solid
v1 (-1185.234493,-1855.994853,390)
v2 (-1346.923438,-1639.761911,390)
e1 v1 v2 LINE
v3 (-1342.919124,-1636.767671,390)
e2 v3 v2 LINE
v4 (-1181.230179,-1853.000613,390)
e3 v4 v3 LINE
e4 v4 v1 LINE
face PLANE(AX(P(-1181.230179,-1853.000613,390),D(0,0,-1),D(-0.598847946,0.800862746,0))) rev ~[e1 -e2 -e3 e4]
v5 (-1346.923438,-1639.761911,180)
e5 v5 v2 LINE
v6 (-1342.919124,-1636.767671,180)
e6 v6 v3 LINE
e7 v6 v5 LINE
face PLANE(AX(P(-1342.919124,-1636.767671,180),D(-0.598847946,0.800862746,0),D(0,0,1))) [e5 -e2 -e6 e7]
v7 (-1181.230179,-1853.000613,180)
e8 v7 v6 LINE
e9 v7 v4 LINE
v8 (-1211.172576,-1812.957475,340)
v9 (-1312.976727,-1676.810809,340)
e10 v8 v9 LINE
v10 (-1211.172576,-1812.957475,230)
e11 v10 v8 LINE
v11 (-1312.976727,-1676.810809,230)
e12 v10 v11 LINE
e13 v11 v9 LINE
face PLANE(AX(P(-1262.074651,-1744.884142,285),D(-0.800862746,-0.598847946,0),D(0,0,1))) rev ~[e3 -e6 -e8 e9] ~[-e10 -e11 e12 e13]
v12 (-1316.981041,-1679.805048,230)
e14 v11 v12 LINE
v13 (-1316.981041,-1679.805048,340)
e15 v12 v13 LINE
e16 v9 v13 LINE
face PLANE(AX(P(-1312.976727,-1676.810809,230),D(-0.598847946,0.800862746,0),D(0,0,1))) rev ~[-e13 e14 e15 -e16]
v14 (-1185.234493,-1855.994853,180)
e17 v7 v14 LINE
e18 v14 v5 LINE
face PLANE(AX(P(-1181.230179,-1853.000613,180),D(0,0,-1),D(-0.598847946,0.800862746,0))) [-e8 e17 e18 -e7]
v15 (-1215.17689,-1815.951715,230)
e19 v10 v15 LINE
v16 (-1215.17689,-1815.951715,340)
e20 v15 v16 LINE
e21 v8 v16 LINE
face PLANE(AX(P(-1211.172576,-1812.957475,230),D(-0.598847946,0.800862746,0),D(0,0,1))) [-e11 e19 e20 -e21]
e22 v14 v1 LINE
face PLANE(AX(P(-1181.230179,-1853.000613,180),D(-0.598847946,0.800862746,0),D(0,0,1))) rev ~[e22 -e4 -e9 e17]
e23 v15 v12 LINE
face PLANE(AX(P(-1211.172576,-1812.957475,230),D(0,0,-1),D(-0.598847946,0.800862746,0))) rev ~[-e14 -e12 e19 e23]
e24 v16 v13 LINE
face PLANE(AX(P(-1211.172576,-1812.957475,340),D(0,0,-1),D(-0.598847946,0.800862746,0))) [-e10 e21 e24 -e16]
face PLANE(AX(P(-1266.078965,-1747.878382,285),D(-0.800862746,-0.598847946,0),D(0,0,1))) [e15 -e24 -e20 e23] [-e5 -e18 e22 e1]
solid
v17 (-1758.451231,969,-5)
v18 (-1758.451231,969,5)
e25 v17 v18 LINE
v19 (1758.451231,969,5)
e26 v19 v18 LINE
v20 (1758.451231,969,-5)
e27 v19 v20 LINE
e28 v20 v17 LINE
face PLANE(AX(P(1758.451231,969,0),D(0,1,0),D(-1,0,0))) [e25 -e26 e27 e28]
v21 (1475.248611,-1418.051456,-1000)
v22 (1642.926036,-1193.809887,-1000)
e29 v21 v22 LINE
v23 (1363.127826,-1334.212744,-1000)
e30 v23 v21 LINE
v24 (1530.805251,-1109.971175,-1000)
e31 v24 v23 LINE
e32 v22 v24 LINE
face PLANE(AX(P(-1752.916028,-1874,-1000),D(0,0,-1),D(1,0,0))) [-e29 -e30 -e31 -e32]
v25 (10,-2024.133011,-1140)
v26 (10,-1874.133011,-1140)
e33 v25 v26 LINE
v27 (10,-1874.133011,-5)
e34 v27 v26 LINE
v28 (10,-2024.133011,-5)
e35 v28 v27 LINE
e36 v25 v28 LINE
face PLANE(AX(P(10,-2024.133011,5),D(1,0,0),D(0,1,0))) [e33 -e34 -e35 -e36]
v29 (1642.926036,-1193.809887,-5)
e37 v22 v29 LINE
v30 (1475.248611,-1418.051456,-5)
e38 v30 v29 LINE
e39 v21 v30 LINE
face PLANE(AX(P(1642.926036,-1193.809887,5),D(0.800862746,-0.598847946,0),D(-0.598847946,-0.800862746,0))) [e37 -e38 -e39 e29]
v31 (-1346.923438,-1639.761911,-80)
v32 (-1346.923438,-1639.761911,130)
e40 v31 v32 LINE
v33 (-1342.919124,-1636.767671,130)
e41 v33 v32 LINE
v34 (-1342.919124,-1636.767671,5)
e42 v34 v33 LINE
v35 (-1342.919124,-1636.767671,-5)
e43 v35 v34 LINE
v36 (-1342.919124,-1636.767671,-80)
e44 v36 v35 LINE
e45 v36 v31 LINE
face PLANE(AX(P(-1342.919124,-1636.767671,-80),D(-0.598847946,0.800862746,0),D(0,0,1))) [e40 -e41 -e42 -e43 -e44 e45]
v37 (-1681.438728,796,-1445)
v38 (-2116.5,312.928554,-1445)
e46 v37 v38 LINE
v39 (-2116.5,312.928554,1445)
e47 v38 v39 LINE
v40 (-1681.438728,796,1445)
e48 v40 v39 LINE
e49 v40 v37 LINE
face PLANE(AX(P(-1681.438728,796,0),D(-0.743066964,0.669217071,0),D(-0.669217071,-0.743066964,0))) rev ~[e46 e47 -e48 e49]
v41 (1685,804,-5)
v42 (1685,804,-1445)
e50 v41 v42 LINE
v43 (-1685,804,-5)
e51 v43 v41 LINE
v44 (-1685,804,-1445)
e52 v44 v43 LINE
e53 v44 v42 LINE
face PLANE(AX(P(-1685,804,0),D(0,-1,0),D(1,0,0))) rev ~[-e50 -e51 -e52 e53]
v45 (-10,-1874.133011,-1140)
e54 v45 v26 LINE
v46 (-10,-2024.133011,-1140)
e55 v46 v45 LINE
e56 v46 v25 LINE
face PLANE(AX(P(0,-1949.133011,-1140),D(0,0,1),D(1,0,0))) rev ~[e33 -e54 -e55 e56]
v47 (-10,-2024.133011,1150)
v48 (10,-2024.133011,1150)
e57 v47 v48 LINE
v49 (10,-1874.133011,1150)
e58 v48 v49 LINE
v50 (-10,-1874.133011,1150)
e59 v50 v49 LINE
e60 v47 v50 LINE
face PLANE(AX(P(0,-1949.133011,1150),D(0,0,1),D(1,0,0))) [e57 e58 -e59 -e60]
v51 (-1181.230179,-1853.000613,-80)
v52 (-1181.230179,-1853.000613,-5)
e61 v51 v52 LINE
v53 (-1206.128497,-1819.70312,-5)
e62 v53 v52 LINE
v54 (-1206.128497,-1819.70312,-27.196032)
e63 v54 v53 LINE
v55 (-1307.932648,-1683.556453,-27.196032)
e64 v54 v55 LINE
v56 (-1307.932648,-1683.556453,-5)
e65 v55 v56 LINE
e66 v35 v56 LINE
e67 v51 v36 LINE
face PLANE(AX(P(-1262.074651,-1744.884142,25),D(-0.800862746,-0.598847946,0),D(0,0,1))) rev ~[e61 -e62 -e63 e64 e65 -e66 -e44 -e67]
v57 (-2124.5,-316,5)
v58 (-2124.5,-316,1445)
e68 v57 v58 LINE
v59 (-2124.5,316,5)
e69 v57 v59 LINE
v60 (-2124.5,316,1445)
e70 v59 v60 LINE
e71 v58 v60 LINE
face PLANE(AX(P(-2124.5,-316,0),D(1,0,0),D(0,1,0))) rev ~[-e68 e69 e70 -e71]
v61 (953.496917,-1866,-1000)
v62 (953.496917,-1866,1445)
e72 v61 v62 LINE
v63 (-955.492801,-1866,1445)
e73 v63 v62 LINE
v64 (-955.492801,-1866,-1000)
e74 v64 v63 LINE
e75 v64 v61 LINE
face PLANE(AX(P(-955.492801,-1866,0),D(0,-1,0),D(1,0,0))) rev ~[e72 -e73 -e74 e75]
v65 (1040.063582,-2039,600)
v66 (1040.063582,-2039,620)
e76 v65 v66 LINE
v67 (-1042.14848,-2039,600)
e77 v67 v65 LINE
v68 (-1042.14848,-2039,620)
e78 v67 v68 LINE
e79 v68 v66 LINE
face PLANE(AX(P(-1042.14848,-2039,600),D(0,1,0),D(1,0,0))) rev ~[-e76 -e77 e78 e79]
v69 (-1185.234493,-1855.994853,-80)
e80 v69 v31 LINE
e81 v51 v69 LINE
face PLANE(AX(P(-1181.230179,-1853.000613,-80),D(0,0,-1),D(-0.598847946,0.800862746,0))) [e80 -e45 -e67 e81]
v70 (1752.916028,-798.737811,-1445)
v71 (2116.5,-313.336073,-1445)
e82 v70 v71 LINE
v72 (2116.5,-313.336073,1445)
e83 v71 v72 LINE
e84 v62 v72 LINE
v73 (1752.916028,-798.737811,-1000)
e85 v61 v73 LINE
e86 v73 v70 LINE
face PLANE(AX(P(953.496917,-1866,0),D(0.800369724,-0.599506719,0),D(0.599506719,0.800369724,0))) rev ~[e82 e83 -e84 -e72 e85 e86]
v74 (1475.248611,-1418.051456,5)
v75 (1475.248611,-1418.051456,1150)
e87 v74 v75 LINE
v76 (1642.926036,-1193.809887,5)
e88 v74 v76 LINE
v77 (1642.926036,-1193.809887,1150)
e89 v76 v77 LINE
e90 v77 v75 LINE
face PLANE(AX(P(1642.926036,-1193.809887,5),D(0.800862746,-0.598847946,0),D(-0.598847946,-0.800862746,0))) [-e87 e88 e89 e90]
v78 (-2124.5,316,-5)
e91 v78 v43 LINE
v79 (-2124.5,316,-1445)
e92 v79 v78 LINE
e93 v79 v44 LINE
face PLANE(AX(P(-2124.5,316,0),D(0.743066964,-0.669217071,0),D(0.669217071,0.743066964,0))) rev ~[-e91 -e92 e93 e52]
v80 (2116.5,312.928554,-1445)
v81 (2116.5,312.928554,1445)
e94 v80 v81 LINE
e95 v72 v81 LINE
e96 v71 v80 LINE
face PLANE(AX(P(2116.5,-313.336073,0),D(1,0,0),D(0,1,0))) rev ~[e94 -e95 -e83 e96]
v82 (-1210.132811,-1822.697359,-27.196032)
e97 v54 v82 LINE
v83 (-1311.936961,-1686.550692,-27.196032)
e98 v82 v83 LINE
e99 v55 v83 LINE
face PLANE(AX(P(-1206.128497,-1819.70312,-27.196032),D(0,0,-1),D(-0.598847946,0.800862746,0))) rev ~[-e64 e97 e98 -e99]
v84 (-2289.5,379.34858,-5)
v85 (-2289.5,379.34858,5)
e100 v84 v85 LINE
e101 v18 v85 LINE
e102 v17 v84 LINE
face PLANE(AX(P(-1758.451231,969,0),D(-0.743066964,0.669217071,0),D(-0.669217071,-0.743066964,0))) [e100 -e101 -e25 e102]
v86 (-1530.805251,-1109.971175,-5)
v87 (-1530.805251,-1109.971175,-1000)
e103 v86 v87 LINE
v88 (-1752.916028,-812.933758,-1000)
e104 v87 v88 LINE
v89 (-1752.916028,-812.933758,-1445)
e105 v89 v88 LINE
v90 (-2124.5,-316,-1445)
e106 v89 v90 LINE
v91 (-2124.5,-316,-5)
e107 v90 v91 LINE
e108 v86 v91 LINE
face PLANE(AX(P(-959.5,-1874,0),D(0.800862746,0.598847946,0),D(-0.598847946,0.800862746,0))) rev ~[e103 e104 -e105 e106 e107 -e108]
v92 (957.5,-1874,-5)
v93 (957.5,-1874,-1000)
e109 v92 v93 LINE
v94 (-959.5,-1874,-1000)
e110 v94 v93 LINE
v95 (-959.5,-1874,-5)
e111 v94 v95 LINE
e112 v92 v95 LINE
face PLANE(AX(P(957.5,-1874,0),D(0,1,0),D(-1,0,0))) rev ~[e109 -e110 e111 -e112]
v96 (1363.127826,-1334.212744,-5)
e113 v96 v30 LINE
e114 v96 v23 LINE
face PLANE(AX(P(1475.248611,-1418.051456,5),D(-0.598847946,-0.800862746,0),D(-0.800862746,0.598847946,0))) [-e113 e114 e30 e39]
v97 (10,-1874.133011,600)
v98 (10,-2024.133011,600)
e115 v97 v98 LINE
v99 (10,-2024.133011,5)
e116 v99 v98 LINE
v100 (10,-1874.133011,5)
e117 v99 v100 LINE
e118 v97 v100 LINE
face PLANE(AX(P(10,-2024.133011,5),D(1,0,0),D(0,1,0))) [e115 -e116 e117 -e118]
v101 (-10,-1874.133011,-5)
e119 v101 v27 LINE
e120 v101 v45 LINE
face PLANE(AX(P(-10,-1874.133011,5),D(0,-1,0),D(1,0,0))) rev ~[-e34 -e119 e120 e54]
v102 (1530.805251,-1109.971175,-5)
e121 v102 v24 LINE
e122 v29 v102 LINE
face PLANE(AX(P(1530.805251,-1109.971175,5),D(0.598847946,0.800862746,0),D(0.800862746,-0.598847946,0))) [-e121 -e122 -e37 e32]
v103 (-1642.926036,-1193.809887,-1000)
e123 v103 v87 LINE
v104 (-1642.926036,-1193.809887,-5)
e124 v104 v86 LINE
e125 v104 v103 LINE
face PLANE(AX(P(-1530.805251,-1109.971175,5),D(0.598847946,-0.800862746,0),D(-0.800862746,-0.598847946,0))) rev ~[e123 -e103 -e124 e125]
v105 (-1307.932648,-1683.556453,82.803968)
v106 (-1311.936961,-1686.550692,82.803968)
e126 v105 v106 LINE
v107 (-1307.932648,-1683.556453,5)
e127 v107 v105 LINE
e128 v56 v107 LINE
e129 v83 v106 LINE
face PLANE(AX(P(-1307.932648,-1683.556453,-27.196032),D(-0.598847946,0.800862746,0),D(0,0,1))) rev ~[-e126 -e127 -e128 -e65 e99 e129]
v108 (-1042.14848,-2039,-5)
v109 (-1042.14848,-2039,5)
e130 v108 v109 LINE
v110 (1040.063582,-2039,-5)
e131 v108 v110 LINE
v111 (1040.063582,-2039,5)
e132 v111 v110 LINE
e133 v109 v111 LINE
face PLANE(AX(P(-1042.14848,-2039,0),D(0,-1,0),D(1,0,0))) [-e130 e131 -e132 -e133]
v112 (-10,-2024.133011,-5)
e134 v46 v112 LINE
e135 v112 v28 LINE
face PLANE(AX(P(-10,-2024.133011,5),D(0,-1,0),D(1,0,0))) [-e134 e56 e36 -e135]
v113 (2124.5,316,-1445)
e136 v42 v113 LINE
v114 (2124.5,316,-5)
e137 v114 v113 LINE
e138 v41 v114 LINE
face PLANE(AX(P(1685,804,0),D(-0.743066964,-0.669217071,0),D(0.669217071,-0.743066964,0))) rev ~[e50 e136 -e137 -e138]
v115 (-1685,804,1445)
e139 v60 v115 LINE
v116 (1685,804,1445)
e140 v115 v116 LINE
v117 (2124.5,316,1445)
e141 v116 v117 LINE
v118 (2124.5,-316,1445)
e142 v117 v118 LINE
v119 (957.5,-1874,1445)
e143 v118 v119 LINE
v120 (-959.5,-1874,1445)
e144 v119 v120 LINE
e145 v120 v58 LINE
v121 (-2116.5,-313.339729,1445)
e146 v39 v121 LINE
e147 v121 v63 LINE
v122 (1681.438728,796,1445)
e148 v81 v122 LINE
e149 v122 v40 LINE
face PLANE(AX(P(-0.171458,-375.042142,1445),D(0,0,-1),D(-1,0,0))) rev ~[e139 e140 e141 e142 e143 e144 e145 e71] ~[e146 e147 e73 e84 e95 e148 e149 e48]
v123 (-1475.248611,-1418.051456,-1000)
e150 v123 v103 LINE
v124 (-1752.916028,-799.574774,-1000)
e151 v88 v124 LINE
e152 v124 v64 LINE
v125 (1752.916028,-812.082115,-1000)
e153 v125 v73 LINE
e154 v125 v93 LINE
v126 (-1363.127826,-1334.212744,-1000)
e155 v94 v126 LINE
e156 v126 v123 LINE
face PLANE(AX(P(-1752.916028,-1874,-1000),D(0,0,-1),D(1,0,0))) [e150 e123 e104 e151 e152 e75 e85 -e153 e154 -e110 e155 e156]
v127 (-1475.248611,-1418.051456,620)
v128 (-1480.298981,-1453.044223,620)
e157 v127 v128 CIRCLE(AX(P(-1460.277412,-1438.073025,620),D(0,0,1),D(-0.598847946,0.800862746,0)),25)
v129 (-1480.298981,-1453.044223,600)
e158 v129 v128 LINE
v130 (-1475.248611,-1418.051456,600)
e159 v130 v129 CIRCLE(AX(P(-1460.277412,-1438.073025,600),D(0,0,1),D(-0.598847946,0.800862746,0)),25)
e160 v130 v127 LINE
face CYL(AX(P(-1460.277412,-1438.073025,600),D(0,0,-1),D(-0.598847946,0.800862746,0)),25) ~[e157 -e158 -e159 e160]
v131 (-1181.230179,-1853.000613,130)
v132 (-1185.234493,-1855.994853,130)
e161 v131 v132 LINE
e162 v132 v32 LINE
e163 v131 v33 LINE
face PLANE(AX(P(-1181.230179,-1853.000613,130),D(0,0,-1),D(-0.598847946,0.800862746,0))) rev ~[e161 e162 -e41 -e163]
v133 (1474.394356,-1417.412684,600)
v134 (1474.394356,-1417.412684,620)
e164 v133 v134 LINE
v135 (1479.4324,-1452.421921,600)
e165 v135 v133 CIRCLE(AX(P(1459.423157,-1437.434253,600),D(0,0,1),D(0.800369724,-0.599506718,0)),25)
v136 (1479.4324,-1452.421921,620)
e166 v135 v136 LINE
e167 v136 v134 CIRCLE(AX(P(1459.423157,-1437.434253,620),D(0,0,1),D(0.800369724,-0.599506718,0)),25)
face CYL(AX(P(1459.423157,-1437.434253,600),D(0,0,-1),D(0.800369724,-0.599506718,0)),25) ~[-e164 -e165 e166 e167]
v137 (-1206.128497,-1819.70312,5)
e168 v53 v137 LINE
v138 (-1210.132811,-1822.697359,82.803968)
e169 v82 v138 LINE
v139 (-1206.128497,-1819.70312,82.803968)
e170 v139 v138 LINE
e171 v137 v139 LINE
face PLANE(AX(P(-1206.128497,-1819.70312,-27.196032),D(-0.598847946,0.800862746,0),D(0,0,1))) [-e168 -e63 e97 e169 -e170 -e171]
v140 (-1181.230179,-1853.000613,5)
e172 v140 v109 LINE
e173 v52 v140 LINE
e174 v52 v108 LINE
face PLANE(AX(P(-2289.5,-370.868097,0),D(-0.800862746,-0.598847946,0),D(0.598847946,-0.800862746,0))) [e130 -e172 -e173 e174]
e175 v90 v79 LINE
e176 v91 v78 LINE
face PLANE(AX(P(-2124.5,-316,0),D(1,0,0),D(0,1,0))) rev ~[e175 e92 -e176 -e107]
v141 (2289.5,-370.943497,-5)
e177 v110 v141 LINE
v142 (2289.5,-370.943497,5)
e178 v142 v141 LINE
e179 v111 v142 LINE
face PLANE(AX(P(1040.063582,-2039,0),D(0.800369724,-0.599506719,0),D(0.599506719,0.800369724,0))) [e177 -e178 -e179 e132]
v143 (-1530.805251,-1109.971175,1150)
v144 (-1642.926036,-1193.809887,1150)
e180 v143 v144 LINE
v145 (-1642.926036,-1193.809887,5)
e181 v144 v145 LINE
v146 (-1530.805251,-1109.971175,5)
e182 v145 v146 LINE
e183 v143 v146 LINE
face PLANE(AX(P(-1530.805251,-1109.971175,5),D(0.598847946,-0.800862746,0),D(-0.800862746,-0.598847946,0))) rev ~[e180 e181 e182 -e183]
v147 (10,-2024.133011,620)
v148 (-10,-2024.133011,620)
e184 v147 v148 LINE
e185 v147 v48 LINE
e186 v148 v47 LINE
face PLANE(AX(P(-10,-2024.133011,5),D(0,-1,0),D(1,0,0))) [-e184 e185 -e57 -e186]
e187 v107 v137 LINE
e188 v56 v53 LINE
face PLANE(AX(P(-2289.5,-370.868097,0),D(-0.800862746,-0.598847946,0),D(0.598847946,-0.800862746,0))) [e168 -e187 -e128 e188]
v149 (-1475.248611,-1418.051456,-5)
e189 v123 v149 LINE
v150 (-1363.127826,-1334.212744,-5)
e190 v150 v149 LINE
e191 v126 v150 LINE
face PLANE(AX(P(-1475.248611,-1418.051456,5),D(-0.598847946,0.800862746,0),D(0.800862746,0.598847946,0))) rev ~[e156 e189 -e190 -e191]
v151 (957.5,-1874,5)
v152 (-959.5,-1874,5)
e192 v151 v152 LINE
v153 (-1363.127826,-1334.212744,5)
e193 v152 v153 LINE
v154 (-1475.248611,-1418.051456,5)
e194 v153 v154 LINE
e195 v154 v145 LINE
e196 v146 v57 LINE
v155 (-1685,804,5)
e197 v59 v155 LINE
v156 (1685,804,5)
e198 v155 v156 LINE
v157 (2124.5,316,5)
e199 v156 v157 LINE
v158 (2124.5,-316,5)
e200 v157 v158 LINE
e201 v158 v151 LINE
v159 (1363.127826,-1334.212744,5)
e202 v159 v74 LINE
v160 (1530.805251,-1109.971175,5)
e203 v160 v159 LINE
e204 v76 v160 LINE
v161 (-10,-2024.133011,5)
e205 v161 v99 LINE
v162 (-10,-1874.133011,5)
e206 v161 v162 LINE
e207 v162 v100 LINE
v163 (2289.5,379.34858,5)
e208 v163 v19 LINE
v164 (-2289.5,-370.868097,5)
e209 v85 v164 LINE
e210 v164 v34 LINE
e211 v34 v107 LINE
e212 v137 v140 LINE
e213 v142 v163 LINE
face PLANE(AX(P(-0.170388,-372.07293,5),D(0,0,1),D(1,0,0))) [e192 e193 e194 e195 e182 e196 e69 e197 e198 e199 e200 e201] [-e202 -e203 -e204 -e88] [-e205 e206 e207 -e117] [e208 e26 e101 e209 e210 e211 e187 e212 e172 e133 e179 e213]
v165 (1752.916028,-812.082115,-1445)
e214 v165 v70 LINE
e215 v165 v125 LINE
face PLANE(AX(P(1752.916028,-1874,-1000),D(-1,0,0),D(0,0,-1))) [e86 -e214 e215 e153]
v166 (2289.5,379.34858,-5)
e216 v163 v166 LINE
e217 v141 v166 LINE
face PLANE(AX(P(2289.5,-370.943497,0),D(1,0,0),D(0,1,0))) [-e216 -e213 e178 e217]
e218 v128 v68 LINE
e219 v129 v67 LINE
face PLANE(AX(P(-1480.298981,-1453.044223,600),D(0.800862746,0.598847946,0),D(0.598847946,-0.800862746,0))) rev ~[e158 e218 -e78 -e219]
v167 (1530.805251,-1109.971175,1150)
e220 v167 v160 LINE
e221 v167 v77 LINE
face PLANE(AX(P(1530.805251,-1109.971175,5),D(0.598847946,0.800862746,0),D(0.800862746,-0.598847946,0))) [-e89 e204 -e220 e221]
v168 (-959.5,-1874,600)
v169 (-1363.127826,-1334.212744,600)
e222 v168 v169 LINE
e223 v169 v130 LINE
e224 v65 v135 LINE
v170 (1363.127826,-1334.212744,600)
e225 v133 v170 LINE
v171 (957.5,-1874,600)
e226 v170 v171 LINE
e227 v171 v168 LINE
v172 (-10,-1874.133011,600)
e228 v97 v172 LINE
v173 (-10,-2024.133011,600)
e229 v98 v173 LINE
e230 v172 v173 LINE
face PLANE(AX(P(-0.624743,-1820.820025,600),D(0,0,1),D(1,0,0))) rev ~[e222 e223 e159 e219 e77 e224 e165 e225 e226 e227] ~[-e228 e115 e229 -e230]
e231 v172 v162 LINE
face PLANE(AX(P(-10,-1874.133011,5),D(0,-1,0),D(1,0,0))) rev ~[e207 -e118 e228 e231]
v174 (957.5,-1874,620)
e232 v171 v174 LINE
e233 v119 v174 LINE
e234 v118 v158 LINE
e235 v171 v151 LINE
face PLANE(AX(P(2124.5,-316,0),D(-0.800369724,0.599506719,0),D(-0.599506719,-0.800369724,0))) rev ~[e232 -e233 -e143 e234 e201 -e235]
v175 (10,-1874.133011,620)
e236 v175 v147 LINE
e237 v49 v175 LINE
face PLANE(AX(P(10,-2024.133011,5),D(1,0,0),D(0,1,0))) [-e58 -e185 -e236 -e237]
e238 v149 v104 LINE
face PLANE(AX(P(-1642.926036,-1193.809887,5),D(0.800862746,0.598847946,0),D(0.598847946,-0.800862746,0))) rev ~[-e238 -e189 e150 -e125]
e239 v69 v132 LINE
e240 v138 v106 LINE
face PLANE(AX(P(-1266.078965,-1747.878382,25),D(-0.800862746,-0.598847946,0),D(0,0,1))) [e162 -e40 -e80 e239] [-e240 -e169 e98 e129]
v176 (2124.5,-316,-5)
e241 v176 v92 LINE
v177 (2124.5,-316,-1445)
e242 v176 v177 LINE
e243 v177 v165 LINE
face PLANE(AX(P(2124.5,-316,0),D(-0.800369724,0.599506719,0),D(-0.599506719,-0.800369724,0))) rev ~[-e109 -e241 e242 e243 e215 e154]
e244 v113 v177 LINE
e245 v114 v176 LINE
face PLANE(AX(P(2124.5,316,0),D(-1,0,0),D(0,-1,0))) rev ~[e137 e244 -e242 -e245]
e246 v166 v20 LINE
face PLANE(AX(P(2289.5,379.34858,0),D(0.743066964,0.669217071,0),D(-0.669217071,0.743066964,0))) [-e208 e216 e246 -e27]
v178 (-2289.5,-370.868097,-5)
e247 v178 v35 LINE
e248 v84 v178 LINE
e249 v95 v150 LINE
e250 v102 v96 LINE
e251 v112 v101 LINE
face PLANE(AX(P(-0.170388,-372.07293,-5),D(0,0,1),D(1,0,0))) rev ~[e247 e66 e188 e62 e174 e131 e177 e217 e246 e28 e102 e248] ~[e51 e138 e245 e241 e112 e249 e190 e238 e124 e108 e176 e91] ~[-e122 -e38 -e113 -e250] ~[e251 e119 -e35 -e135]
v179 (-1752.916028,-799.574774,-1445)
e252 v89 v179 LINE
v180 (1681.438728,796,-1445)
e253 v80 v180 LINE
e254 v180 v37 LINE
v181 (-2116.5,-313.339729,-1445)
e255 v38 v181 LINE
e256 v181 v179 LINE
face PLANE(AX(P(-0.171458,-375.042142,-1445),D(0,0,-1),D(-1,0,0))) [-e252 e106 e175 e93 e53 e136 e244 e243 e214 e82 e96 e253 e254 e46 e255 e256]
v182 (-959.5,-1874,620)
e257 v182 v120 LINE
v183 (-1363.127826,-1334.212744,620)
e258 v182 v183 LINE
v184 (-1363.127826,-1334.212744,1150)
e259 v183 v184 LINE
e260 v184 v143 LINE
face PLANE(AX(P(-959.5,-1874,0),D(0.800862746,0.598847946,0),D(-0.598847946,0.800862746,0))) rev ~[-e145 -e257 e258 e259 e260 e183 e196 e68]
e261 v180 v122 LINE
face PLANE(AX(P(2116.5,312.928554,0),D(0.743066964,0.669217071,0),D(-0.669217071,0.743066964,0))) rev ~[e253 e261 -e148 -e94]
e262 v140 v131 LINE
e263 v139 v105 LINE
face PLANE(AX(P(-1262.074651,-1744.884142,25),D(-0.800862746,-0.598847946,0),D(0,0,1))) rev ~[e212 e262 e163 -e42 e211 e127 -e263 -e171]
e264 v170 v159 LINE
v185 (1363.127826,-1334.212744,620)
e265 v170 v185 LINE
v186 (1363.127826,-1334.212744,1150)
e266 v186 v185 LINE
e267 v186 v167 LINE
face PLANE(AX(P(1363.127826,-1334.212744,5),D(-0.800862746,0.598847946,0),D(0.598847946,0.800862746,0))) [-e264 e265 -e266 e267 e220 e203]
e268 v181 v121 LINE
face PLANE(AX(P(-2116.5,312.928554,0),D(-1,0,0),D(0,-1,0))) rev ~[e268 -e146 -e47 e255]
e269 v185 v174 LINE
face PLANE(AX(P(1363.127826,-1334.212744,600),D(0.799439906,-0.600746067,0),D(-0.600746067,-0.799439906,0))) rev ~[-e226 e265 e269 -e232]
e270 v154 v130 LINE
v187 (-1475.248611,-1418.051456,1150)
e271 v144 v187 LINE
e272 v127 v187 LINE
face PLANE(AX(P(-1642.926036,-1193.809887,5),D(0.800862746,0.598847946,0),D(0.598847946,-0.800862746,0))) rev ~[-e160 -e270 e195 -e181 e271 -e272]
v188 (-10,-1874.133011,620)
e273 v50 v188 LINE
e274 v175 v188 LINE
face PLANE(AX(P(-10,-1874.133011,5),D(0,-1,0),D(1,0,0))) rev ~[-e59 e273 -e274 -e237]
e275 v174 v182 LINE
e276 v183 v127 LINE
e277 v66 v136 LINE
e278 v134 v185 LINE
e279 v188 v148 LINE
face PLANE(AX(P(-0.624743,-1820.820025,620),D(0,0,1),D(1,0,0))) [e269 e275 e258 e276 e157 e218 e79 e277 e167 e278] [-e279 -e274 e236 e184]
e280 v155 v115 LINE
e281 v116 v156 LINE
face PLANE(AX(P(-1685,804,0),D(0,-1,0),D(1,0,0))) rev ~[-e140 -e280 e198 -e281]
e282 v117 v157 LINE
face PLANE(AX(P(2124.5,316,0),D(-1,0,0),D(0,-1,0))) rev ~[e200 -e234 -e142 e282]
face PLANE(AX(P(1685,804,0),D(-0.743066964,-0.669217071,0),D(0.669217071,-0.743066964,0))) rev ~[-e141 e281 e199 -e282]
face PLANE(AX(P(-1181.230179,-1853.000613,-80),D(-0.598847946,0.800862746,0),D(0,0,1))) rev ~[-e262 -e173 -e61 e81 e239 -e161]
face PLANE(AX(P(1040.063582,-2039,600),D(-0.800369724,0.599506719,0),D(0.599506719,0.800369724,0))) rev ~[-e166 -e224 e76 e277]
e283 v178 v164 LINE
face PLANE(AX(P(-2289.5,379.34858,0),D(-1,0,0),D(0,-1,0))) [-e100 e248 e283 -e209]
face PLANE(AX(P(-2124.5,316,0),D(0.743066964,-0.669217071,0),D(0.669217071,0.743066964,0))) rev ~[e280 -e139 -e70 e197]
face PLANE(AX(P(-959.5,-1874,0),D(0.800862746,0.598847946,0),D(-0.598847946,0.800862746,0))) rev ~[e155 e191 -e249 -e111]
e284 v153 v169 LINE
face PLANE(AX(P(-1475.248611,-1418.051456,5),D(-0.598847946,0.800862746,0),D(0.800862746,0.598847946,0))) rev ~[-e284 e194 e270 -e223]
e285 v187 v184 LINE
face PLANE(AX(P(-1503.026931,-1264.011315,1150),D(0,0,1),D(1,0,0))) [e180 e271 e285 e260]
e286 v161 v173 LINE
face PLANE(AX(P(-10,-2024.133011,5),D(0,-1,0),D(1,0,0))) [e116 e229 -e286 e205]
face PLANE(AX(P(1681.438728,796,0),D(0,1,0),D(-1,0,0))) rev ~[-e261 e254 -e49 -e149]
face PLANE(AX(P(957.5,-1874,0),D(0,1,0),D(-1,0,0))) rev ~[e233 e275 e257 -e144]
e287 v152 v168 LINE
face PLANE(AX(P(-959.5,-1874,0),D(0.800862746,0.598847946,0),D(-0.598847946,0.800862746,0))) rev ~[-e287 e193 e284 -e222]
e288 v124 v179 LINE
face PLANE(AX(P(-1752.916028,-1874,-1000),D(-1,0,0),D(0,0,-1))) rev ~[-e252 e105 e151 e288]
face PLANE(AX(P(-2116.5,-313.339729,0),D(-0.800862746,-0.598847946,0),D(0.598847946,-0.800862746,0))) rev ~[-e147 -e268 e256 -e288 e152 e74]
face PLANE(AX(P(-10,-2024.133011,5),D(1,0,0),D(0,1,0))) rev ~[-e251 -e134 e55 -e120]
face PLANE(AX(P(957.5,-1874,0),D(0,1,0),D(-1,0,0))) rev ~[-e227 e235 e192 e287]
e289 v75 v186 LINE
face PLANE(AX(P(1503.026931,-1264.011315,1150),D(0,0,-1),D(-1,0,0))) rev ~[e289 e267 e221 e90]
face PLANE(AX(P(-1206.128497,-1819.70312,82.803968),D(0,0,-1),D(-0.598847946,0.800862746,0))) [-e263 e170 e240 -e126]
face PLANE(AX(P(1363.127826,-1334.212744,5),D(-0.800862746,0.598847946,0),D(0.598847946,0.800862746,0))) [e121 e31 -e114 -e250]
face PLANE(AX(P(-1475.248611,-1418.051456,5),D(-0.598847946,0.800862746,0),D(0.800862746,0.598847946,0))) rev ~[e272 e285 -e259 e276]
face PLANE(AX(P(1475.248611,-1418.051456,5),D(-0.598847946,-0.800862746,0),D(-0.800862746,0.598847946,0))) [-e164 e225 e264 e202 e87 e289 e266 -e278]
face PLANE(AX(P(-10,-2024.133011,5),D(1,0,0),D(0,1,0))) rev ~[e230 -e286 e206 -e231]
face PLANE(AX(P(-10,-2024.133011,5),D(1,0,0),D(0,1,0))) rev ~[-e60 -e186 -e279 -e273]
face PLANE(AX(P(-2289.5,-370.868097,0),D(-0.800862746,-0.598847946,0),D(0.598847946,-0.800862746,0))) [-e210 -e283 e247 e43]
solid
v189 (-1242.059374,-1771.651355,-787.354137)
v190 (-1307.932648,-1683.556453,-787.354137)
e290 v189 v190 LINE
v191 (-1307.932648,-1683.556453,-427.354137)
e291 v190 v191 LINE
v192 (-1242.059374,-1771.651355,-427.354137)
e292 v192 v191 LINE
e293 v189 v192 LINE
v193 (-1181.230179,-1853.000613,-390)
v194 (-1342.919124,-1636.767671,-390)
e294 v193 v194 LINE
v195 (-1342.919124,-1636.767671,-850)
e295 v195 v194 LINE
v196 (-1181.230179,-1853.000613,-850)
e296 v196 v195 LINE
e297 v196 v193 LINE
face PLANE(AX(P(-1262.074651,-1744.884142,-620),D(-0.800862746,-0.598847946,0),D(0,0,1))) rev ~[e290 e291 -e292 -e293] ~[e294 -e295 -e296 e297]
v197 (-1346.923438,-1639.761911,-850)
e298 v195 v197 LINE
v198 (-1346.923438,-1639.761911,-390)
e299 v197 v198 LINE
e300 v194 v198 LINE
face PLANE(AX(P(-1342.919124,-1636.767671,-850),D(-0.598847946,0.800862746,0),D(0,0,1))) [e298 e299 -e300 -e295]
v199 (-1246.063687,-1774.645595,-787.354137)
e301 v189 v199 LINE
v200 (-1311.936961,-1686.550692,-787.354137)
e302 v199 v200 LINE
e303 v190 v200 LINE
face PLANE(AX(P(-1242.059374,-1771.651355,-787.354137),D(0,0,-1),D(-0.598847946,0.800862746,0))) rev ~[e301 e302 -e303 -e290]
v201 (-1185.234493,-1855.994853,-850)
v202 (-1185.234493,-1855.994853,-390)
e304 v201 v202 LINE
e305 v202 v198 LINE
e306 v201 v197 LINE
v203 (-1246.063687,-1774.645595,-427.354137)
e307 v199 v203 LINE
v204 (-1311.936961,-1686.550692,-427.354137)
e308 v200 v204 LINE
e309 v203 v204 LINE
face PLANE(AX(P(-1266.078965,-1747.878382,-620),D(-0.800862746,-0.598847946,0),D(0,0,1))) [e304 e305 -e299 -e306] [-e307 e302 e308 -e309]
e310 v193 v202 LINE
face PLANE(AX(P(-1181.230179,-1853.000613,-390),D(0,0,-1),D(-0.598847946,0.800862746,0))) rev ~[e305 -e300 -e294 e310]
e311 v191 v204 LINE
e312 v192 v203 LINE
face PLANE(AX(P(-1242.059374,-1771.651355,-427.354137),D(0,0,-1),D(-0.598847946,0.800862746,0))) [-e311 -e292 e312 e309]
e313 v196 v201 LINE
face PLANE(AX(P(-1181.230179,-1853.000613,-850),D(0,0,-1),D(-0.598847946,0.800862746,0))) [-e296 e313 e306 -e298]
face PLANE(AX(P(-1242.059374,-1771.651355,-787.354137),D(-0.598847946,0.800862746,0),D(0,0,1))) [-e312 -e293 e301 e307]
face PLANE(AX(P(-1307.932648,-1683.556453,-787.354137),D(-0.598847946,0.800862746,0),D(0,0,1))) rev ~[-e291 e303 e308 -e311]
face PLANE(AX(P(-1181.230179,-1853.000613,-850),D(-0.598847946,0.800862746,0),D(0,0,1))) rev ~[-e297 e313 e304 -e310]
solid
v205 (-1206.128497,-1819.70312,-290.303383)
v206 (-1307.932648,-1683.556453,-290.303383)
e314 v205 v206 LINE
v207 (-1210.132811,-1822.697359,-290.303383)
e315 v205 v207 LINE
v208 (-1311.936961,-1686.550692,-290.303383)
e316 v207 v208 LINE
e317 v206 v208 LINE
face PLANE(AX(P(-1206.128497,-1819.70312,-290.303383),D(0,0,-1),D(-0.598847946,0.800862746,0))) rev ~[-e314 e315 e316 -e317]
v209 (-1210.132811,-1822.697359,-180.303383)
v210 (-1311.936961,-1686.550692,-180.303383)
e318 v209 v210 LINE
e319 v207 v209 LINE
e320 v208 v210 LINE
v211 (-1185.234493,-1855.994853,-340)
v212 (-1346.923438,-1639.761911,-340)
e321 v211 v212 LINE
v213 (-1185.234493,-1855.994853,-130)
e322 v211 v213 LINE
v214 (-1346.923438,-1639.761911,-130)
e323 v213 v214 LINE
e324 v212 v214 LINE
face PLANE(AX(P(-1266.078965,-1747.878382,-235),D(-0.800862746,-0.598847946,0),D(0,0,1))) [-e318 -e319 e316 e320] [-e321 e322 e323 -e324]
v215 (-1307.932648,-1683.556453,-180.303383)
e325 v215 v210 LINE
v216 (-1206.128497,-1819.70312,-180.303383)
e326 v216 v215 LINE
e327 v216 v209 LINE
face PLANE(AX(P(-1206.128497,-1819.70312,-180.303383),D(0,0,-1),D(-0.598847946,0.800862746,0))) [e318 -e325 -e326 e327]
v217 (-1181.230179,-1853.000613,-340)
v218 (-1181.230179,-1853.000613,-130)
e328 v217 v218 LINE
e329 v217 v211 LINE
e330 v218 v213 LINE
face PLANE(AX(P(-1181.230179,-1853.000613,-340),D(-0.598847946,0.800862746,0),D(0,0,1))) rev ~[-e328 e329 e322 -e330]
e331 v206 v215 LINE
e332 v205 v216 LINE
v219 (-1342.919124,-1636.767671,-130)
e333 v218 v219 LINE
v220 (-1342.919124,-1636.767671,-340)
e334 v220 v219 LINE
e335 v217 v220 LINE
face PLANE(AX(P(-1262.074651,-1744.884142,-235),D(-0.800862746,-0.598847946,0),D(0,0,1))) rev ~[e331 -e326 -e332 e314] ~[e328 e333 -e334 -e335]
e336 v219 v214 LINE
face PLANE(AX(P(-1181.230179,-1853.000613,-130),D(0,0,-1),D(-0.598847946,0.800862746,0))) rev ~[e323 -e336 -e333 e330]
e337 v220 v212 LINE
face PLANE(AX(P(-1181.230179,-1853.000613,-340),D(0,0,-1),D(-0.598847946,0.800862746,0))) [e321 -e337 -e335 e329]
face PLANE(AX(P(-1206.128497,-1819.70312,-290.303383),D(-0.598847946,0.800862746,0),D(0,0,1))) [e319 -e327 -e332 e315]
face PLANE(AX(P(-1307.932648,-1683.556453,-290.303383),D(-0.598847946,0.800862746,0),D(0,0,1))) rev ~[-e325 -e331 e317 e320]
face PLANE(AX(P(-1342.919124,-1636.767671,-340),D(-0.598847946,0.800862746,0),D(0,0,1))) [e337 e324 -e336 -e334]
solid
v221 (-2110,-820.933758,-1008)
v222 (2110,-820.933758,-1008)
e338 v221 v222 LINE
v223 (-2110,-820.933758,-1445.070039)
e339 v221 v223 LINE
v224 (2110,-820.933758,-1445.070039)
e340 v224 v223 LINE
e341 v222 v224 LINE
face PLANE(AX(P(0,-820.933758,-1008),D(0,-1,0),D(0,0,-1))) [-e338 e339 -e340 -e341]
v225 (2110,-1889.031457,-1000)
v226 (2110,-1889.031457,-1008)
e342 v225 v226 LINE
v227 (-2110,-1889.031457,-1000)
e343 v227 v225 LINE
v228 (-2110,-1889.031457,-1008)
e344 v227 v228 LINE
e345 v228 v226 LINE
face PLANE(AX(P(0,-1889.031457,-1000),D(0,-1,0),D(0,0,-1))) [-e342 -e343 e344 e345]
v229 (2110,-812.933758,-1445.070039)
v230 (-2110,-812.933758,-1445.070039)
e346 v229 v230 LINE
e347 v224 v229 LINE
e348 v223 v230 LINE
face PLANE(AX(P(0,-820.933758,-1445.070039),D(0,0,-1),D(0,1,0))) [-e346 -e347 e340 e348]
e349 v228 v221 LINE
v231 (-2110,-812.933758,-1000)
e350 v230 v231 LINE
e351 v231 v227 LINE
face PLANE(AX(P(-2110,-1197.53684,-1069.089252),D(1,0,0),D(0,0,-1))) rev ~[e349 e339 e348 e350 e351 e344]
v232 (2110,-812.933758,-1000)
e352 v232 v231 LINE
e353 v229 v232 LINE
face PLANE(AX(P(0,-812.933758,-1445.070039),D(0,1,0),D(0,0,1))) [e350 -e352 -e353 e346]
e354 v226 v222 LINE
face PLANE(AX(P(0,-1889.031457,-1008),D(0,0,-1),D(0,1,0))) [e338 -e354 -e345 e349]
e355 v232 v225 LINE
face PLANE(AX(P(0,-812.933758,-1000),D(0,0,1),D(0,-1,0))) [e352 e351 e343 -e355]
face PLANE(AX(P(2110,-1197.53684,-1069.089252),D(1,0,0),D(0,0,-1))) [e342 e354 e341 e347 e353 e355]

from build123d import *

# Parameters (mm, degrees)
BOSS_EXTRUDE1_DEPTH  = 1445
BOSS_EXTRUDE2_DEPTH  = 5
SKETCH4_W            = 20
SKETCH4_H            = 150
BOSS_EXTRUDE4_DEPTH  = 1145
BOSS_EXTRUDE9_START  = 600
BOSS_EXTRUDE9_DEPTH  = 20
CUT_EXTRUDE1_START   = -1874
SKETCH6_W            = 3505.832056238
SKETCH6_H            = 1215.707549371
CUT_EXTRUDE1_DEPTH   = 1075.262189
BOSS_EXTRUDE11_DEPTH = 2110
SKETCH8_W            = 210
SKETCH8_H            = 270
SKETCH8_W_2          = 110
SKETCH8_H_2          = 170
SKETCH8_W_3          = 460
SKETCH8_W_4          = 360
SKETCH8_H_3          = 110
BOSS_EXTRUDE12_DEPTH = 5


with BuildPart() as part:
    # Sketch1 → Boss-Extrude1 (new, symmetric)
    with BuildSketch(Plane.XY):
        Polygon((-1685, 804), (1685, 804), (2124.5, 316), (2124.5, -316), (957.5, -1874), (-959.5, -1874), (-2124.5, -316), (-2124.5, 316), align=None)
        Polygon((-1681.438728184, 796), (-2116.5, 312.928553706), (-2116.5, -313.339728652), (-955.49280095, -1866), (953.496917228, -1866), (2116.5, -313.336072871), (2116.5, 312.928553706), (1681.438728184, 796), align=None, mode=Mode.SUBTRACT)
    extrude(amount=BOSS_EXTRUDE1_DEPTH, both=True)

    # Sketch1<4> → Boss-Extrude2 (add, symmetric)
    with BuildSketch(Plane.XY):
        Polygon((1758.451231204, 969), (-1758.451231204, 969), (-2289.5, 379.348579813), (-2289.5, -370.868096546), (-1042.148480408, -2039), (1040.063582176, -2039), (2289.5, -370.943497026), (2289.5, 379.348579813), align=None)
        Polygon((-2124.5, 316), (-1685, 804), (1685, 804), (2124.5, 316), (2124.5, -316), (957.5, -1874), (-959.5, -1874), (-1363.127826452, -1334.21274368), (-1475.248610905, -1418.051456061), (-1642.926035666, -1193.809887154), (-1530.805251212, -1109.971174774), (-2124.5, -316), align=None, mode=Mode.SUBTRACT)
    extrude(amount=BOSS_EXTRUDE2_DEPTH, both=True)

    # Sketch4 → Boss-Extrude4 (add, symmetric)
    with BuildSketch(Plane.XY.offset(5)):
        Polygon((-1642.926035666, -1193.809887154), (-1475.248610905, -1418.051456061), (-1363.127826452, -1334.21274368), (-1530.805251212, -1109.971174774), align=None)
        Polygon((1475.248610905, -1418.051456061), (1363.127826452, -1334.21274368), (1530.805251212, -1109.971174774), (1642.926035666, -1193.809887154), align=None)
        with Locations((0, -1949.133011303)):
            Rectangle(SKETCH4_W, SKETCH4_H)
    extrude(amount=BOSS_EXTRUDE4_DEPTH, both=True)

    # Sketch5 → Boss-Extrude9 (add)
    with BuildSketch(Plane.XY.offset(BOSS_EXTRUDE9_START)):
        with BuildLine():
            Line((-1363.127826452, -1334.21274368), (-1475.248610905, -1418.051456061))
            ThreePointArc((-1475.248610905, -1418.051456061), (-1485.021035311, -1434.501873829), (-1480.298980919, -1453.044223352))
            Line((-1480.298980919, -1453.044223352), (-1042.148480408, -2039))
            Line((-1042.148480408, -2039), (1040.063582176, -2039))
            Line((1040.063582176, -2039), (1479.432400385, -1452.421920505))
            ThreePointArc((1479.432400385, -1452.421920505), (1484.168247474, -1433.873281887), (1474.394355934, -1417.41268389))
            Line((1474.394355934, -1417.41268389), (1363.127826452, -1334.21274368))
            Line((1363.127826452, -1334.21274368), (957.5, -1874))
            Line((957.5, -1874), (-959.5, -1874))
            Line((-959.5, -1874), (-1363.127826452, -1334.21274368))
        make_face()
    extrude(amount=BOSS_EXTRUDE9_DEPTH)

    # Sketch6 → Cut-Extrude1 (cut)
    with BuildSketch(Plane(origin=(0, 0, 0), x_dir=(1, 0, 0), z_dir=(0, 1, 0)).offset(CUT_EXTRUDE1_START)):
        with Locations((0, 1607.853774685)):
            Rectangle(SKETCH6_W, SKETCH6_H)
    extrude(amount=CUT_EXTRUDE1_DEPTH, mode=Mode.SUBTRACT)

    # Sketch8 → Boss-Extrude12 (add)
    # profile 1 of 4: a face of its own
    with BuildSketch(Plane(origin=(-1646.308604184, -1231.033070522, 0), x_dir=(0, 0, 1), z_dir=(-0.8008627460957028, -0.5988479455722043, 0))):
        with Locations((25, -641.621893436)):
            Rectangle(SKETCH8_W, SKETCH8_H)
        with Locations((27.803968445, -650.044864995)):
            Rectangle(SKETCH8_W_2, SKETCH8_H_2, mode=Mode.SUBTRACT)
    # profile 2 of 4: a face of its own
    with BuildSketch(Plane(origin=(-1646.308604184, -1231.033070522, 0), x_dir=(0, 0, 1), z_dir=(-0.8008627460957028, -0.5988479455722043, 0))):
        with Locations((285, -641.621893436)):
            Rectangle(SKETCH8_W, SKETCH8_H)
        with Locations((285, -641.621893436)):
            Rectangle(SKETCH8_W_2, SKETCH8_H_2, mode=Mode.SUBTRACT)
    # profile 3 of 4: a face of its own
    with BuildSketch(Plane(origin=(-1646.308604184, -1231.033070522, 0), x_dir=(0, 0, 1), z_dir=(-0.8008627460957028, -0.5988479455722043, 0))):
        with Locations((-235, -641.621893436)):
            Rectangle(SKETCH8_W, SKETCH8_H)
        with Locations((-235.303383431, -650.044864995)):
            Rectangle(SKETCH8_W_2, SKETCH8_H_2, mode=Mode.SUBTRACT)
    # profile 4 of 4: a face of its own
    with BuildSketch(Plane(origin=(-1646.308604184, -1231.033070522, 0), x_dir=(0, 0, 1), z_dir=(-0.8008627460957028, -0.5988479455722043, 0))):
        with Locations((-620, -641.621893436)):
            Rectangle(SKETCH8_W_3, SKETCH8_H)
        with Locations((-607.35413734, -620.044864995)):
            Rectangle(SKETCH8_W_4, SKETCH8_H_3, mode=Mode.SUBTRACT)
    extrude(amount=BOSS_EXTRUDE12_DEPTH)


with BuildPart() as body_2:
    # Sketch7 → Boss-Extrude11 (new, symmetric)
    with BuildSketch(Plane(origin=(0, 0, 0), x_dir=(0, 0, -1), z_dir=(1, 0, 0))):
        Polygon((1000, -812.933758103), (1000, -1889.031457311), (1008, -1889.031457311), (1008, -820.933758103), (1445.070039038, -820.933758103), (1445.070039038, -812.933758103), align=None)
    extrude(amount=BOSS_EXTRUDE11_DEPTH, both=True)


with BuildPart() as boss_extrude12_piece_1:
    # of the separate pieces the step leaves, piece 1, a body of its own (boss_extrude12_pieces)
    add(part.part.solids().sort_by_distance((-1685, 804, -1445))[0])


with BuildPart() as boss_extrude12_piece_2:
    # of the separate pieces the step leaves, piece 2, a body of its own (boss_extrude12_pieces)
    add(part.part.solids().sort_by_distance((-1342.919124117, -1636.767671332, -390))[0])


with BuildPart() as boss_extrude12_piece_3:
    # of the separate pieces the step leaves, piece 3, a body of its own (boss_extrude12_pieces)
    add(part.part.solids().sort_by_distance((-1342.919124117, -1636.767671332, 180))[0])


with BuildPart() as boss_extrude12_piece_4:
    # of the separate pieces the step leaves, piece 4, a body of its own (boss_extrude12_pieces)
    add(part.part.solids().sort_by_distance((-1342.919124117, -1636.767671332, -130))[0])


solid = Compound([body_2.part, boss_extrude12_piece_1.part, boss_extrude12_piece_2.part, boss_extrude12_piece_3.part, boss_extrude12_piece_4.part])
